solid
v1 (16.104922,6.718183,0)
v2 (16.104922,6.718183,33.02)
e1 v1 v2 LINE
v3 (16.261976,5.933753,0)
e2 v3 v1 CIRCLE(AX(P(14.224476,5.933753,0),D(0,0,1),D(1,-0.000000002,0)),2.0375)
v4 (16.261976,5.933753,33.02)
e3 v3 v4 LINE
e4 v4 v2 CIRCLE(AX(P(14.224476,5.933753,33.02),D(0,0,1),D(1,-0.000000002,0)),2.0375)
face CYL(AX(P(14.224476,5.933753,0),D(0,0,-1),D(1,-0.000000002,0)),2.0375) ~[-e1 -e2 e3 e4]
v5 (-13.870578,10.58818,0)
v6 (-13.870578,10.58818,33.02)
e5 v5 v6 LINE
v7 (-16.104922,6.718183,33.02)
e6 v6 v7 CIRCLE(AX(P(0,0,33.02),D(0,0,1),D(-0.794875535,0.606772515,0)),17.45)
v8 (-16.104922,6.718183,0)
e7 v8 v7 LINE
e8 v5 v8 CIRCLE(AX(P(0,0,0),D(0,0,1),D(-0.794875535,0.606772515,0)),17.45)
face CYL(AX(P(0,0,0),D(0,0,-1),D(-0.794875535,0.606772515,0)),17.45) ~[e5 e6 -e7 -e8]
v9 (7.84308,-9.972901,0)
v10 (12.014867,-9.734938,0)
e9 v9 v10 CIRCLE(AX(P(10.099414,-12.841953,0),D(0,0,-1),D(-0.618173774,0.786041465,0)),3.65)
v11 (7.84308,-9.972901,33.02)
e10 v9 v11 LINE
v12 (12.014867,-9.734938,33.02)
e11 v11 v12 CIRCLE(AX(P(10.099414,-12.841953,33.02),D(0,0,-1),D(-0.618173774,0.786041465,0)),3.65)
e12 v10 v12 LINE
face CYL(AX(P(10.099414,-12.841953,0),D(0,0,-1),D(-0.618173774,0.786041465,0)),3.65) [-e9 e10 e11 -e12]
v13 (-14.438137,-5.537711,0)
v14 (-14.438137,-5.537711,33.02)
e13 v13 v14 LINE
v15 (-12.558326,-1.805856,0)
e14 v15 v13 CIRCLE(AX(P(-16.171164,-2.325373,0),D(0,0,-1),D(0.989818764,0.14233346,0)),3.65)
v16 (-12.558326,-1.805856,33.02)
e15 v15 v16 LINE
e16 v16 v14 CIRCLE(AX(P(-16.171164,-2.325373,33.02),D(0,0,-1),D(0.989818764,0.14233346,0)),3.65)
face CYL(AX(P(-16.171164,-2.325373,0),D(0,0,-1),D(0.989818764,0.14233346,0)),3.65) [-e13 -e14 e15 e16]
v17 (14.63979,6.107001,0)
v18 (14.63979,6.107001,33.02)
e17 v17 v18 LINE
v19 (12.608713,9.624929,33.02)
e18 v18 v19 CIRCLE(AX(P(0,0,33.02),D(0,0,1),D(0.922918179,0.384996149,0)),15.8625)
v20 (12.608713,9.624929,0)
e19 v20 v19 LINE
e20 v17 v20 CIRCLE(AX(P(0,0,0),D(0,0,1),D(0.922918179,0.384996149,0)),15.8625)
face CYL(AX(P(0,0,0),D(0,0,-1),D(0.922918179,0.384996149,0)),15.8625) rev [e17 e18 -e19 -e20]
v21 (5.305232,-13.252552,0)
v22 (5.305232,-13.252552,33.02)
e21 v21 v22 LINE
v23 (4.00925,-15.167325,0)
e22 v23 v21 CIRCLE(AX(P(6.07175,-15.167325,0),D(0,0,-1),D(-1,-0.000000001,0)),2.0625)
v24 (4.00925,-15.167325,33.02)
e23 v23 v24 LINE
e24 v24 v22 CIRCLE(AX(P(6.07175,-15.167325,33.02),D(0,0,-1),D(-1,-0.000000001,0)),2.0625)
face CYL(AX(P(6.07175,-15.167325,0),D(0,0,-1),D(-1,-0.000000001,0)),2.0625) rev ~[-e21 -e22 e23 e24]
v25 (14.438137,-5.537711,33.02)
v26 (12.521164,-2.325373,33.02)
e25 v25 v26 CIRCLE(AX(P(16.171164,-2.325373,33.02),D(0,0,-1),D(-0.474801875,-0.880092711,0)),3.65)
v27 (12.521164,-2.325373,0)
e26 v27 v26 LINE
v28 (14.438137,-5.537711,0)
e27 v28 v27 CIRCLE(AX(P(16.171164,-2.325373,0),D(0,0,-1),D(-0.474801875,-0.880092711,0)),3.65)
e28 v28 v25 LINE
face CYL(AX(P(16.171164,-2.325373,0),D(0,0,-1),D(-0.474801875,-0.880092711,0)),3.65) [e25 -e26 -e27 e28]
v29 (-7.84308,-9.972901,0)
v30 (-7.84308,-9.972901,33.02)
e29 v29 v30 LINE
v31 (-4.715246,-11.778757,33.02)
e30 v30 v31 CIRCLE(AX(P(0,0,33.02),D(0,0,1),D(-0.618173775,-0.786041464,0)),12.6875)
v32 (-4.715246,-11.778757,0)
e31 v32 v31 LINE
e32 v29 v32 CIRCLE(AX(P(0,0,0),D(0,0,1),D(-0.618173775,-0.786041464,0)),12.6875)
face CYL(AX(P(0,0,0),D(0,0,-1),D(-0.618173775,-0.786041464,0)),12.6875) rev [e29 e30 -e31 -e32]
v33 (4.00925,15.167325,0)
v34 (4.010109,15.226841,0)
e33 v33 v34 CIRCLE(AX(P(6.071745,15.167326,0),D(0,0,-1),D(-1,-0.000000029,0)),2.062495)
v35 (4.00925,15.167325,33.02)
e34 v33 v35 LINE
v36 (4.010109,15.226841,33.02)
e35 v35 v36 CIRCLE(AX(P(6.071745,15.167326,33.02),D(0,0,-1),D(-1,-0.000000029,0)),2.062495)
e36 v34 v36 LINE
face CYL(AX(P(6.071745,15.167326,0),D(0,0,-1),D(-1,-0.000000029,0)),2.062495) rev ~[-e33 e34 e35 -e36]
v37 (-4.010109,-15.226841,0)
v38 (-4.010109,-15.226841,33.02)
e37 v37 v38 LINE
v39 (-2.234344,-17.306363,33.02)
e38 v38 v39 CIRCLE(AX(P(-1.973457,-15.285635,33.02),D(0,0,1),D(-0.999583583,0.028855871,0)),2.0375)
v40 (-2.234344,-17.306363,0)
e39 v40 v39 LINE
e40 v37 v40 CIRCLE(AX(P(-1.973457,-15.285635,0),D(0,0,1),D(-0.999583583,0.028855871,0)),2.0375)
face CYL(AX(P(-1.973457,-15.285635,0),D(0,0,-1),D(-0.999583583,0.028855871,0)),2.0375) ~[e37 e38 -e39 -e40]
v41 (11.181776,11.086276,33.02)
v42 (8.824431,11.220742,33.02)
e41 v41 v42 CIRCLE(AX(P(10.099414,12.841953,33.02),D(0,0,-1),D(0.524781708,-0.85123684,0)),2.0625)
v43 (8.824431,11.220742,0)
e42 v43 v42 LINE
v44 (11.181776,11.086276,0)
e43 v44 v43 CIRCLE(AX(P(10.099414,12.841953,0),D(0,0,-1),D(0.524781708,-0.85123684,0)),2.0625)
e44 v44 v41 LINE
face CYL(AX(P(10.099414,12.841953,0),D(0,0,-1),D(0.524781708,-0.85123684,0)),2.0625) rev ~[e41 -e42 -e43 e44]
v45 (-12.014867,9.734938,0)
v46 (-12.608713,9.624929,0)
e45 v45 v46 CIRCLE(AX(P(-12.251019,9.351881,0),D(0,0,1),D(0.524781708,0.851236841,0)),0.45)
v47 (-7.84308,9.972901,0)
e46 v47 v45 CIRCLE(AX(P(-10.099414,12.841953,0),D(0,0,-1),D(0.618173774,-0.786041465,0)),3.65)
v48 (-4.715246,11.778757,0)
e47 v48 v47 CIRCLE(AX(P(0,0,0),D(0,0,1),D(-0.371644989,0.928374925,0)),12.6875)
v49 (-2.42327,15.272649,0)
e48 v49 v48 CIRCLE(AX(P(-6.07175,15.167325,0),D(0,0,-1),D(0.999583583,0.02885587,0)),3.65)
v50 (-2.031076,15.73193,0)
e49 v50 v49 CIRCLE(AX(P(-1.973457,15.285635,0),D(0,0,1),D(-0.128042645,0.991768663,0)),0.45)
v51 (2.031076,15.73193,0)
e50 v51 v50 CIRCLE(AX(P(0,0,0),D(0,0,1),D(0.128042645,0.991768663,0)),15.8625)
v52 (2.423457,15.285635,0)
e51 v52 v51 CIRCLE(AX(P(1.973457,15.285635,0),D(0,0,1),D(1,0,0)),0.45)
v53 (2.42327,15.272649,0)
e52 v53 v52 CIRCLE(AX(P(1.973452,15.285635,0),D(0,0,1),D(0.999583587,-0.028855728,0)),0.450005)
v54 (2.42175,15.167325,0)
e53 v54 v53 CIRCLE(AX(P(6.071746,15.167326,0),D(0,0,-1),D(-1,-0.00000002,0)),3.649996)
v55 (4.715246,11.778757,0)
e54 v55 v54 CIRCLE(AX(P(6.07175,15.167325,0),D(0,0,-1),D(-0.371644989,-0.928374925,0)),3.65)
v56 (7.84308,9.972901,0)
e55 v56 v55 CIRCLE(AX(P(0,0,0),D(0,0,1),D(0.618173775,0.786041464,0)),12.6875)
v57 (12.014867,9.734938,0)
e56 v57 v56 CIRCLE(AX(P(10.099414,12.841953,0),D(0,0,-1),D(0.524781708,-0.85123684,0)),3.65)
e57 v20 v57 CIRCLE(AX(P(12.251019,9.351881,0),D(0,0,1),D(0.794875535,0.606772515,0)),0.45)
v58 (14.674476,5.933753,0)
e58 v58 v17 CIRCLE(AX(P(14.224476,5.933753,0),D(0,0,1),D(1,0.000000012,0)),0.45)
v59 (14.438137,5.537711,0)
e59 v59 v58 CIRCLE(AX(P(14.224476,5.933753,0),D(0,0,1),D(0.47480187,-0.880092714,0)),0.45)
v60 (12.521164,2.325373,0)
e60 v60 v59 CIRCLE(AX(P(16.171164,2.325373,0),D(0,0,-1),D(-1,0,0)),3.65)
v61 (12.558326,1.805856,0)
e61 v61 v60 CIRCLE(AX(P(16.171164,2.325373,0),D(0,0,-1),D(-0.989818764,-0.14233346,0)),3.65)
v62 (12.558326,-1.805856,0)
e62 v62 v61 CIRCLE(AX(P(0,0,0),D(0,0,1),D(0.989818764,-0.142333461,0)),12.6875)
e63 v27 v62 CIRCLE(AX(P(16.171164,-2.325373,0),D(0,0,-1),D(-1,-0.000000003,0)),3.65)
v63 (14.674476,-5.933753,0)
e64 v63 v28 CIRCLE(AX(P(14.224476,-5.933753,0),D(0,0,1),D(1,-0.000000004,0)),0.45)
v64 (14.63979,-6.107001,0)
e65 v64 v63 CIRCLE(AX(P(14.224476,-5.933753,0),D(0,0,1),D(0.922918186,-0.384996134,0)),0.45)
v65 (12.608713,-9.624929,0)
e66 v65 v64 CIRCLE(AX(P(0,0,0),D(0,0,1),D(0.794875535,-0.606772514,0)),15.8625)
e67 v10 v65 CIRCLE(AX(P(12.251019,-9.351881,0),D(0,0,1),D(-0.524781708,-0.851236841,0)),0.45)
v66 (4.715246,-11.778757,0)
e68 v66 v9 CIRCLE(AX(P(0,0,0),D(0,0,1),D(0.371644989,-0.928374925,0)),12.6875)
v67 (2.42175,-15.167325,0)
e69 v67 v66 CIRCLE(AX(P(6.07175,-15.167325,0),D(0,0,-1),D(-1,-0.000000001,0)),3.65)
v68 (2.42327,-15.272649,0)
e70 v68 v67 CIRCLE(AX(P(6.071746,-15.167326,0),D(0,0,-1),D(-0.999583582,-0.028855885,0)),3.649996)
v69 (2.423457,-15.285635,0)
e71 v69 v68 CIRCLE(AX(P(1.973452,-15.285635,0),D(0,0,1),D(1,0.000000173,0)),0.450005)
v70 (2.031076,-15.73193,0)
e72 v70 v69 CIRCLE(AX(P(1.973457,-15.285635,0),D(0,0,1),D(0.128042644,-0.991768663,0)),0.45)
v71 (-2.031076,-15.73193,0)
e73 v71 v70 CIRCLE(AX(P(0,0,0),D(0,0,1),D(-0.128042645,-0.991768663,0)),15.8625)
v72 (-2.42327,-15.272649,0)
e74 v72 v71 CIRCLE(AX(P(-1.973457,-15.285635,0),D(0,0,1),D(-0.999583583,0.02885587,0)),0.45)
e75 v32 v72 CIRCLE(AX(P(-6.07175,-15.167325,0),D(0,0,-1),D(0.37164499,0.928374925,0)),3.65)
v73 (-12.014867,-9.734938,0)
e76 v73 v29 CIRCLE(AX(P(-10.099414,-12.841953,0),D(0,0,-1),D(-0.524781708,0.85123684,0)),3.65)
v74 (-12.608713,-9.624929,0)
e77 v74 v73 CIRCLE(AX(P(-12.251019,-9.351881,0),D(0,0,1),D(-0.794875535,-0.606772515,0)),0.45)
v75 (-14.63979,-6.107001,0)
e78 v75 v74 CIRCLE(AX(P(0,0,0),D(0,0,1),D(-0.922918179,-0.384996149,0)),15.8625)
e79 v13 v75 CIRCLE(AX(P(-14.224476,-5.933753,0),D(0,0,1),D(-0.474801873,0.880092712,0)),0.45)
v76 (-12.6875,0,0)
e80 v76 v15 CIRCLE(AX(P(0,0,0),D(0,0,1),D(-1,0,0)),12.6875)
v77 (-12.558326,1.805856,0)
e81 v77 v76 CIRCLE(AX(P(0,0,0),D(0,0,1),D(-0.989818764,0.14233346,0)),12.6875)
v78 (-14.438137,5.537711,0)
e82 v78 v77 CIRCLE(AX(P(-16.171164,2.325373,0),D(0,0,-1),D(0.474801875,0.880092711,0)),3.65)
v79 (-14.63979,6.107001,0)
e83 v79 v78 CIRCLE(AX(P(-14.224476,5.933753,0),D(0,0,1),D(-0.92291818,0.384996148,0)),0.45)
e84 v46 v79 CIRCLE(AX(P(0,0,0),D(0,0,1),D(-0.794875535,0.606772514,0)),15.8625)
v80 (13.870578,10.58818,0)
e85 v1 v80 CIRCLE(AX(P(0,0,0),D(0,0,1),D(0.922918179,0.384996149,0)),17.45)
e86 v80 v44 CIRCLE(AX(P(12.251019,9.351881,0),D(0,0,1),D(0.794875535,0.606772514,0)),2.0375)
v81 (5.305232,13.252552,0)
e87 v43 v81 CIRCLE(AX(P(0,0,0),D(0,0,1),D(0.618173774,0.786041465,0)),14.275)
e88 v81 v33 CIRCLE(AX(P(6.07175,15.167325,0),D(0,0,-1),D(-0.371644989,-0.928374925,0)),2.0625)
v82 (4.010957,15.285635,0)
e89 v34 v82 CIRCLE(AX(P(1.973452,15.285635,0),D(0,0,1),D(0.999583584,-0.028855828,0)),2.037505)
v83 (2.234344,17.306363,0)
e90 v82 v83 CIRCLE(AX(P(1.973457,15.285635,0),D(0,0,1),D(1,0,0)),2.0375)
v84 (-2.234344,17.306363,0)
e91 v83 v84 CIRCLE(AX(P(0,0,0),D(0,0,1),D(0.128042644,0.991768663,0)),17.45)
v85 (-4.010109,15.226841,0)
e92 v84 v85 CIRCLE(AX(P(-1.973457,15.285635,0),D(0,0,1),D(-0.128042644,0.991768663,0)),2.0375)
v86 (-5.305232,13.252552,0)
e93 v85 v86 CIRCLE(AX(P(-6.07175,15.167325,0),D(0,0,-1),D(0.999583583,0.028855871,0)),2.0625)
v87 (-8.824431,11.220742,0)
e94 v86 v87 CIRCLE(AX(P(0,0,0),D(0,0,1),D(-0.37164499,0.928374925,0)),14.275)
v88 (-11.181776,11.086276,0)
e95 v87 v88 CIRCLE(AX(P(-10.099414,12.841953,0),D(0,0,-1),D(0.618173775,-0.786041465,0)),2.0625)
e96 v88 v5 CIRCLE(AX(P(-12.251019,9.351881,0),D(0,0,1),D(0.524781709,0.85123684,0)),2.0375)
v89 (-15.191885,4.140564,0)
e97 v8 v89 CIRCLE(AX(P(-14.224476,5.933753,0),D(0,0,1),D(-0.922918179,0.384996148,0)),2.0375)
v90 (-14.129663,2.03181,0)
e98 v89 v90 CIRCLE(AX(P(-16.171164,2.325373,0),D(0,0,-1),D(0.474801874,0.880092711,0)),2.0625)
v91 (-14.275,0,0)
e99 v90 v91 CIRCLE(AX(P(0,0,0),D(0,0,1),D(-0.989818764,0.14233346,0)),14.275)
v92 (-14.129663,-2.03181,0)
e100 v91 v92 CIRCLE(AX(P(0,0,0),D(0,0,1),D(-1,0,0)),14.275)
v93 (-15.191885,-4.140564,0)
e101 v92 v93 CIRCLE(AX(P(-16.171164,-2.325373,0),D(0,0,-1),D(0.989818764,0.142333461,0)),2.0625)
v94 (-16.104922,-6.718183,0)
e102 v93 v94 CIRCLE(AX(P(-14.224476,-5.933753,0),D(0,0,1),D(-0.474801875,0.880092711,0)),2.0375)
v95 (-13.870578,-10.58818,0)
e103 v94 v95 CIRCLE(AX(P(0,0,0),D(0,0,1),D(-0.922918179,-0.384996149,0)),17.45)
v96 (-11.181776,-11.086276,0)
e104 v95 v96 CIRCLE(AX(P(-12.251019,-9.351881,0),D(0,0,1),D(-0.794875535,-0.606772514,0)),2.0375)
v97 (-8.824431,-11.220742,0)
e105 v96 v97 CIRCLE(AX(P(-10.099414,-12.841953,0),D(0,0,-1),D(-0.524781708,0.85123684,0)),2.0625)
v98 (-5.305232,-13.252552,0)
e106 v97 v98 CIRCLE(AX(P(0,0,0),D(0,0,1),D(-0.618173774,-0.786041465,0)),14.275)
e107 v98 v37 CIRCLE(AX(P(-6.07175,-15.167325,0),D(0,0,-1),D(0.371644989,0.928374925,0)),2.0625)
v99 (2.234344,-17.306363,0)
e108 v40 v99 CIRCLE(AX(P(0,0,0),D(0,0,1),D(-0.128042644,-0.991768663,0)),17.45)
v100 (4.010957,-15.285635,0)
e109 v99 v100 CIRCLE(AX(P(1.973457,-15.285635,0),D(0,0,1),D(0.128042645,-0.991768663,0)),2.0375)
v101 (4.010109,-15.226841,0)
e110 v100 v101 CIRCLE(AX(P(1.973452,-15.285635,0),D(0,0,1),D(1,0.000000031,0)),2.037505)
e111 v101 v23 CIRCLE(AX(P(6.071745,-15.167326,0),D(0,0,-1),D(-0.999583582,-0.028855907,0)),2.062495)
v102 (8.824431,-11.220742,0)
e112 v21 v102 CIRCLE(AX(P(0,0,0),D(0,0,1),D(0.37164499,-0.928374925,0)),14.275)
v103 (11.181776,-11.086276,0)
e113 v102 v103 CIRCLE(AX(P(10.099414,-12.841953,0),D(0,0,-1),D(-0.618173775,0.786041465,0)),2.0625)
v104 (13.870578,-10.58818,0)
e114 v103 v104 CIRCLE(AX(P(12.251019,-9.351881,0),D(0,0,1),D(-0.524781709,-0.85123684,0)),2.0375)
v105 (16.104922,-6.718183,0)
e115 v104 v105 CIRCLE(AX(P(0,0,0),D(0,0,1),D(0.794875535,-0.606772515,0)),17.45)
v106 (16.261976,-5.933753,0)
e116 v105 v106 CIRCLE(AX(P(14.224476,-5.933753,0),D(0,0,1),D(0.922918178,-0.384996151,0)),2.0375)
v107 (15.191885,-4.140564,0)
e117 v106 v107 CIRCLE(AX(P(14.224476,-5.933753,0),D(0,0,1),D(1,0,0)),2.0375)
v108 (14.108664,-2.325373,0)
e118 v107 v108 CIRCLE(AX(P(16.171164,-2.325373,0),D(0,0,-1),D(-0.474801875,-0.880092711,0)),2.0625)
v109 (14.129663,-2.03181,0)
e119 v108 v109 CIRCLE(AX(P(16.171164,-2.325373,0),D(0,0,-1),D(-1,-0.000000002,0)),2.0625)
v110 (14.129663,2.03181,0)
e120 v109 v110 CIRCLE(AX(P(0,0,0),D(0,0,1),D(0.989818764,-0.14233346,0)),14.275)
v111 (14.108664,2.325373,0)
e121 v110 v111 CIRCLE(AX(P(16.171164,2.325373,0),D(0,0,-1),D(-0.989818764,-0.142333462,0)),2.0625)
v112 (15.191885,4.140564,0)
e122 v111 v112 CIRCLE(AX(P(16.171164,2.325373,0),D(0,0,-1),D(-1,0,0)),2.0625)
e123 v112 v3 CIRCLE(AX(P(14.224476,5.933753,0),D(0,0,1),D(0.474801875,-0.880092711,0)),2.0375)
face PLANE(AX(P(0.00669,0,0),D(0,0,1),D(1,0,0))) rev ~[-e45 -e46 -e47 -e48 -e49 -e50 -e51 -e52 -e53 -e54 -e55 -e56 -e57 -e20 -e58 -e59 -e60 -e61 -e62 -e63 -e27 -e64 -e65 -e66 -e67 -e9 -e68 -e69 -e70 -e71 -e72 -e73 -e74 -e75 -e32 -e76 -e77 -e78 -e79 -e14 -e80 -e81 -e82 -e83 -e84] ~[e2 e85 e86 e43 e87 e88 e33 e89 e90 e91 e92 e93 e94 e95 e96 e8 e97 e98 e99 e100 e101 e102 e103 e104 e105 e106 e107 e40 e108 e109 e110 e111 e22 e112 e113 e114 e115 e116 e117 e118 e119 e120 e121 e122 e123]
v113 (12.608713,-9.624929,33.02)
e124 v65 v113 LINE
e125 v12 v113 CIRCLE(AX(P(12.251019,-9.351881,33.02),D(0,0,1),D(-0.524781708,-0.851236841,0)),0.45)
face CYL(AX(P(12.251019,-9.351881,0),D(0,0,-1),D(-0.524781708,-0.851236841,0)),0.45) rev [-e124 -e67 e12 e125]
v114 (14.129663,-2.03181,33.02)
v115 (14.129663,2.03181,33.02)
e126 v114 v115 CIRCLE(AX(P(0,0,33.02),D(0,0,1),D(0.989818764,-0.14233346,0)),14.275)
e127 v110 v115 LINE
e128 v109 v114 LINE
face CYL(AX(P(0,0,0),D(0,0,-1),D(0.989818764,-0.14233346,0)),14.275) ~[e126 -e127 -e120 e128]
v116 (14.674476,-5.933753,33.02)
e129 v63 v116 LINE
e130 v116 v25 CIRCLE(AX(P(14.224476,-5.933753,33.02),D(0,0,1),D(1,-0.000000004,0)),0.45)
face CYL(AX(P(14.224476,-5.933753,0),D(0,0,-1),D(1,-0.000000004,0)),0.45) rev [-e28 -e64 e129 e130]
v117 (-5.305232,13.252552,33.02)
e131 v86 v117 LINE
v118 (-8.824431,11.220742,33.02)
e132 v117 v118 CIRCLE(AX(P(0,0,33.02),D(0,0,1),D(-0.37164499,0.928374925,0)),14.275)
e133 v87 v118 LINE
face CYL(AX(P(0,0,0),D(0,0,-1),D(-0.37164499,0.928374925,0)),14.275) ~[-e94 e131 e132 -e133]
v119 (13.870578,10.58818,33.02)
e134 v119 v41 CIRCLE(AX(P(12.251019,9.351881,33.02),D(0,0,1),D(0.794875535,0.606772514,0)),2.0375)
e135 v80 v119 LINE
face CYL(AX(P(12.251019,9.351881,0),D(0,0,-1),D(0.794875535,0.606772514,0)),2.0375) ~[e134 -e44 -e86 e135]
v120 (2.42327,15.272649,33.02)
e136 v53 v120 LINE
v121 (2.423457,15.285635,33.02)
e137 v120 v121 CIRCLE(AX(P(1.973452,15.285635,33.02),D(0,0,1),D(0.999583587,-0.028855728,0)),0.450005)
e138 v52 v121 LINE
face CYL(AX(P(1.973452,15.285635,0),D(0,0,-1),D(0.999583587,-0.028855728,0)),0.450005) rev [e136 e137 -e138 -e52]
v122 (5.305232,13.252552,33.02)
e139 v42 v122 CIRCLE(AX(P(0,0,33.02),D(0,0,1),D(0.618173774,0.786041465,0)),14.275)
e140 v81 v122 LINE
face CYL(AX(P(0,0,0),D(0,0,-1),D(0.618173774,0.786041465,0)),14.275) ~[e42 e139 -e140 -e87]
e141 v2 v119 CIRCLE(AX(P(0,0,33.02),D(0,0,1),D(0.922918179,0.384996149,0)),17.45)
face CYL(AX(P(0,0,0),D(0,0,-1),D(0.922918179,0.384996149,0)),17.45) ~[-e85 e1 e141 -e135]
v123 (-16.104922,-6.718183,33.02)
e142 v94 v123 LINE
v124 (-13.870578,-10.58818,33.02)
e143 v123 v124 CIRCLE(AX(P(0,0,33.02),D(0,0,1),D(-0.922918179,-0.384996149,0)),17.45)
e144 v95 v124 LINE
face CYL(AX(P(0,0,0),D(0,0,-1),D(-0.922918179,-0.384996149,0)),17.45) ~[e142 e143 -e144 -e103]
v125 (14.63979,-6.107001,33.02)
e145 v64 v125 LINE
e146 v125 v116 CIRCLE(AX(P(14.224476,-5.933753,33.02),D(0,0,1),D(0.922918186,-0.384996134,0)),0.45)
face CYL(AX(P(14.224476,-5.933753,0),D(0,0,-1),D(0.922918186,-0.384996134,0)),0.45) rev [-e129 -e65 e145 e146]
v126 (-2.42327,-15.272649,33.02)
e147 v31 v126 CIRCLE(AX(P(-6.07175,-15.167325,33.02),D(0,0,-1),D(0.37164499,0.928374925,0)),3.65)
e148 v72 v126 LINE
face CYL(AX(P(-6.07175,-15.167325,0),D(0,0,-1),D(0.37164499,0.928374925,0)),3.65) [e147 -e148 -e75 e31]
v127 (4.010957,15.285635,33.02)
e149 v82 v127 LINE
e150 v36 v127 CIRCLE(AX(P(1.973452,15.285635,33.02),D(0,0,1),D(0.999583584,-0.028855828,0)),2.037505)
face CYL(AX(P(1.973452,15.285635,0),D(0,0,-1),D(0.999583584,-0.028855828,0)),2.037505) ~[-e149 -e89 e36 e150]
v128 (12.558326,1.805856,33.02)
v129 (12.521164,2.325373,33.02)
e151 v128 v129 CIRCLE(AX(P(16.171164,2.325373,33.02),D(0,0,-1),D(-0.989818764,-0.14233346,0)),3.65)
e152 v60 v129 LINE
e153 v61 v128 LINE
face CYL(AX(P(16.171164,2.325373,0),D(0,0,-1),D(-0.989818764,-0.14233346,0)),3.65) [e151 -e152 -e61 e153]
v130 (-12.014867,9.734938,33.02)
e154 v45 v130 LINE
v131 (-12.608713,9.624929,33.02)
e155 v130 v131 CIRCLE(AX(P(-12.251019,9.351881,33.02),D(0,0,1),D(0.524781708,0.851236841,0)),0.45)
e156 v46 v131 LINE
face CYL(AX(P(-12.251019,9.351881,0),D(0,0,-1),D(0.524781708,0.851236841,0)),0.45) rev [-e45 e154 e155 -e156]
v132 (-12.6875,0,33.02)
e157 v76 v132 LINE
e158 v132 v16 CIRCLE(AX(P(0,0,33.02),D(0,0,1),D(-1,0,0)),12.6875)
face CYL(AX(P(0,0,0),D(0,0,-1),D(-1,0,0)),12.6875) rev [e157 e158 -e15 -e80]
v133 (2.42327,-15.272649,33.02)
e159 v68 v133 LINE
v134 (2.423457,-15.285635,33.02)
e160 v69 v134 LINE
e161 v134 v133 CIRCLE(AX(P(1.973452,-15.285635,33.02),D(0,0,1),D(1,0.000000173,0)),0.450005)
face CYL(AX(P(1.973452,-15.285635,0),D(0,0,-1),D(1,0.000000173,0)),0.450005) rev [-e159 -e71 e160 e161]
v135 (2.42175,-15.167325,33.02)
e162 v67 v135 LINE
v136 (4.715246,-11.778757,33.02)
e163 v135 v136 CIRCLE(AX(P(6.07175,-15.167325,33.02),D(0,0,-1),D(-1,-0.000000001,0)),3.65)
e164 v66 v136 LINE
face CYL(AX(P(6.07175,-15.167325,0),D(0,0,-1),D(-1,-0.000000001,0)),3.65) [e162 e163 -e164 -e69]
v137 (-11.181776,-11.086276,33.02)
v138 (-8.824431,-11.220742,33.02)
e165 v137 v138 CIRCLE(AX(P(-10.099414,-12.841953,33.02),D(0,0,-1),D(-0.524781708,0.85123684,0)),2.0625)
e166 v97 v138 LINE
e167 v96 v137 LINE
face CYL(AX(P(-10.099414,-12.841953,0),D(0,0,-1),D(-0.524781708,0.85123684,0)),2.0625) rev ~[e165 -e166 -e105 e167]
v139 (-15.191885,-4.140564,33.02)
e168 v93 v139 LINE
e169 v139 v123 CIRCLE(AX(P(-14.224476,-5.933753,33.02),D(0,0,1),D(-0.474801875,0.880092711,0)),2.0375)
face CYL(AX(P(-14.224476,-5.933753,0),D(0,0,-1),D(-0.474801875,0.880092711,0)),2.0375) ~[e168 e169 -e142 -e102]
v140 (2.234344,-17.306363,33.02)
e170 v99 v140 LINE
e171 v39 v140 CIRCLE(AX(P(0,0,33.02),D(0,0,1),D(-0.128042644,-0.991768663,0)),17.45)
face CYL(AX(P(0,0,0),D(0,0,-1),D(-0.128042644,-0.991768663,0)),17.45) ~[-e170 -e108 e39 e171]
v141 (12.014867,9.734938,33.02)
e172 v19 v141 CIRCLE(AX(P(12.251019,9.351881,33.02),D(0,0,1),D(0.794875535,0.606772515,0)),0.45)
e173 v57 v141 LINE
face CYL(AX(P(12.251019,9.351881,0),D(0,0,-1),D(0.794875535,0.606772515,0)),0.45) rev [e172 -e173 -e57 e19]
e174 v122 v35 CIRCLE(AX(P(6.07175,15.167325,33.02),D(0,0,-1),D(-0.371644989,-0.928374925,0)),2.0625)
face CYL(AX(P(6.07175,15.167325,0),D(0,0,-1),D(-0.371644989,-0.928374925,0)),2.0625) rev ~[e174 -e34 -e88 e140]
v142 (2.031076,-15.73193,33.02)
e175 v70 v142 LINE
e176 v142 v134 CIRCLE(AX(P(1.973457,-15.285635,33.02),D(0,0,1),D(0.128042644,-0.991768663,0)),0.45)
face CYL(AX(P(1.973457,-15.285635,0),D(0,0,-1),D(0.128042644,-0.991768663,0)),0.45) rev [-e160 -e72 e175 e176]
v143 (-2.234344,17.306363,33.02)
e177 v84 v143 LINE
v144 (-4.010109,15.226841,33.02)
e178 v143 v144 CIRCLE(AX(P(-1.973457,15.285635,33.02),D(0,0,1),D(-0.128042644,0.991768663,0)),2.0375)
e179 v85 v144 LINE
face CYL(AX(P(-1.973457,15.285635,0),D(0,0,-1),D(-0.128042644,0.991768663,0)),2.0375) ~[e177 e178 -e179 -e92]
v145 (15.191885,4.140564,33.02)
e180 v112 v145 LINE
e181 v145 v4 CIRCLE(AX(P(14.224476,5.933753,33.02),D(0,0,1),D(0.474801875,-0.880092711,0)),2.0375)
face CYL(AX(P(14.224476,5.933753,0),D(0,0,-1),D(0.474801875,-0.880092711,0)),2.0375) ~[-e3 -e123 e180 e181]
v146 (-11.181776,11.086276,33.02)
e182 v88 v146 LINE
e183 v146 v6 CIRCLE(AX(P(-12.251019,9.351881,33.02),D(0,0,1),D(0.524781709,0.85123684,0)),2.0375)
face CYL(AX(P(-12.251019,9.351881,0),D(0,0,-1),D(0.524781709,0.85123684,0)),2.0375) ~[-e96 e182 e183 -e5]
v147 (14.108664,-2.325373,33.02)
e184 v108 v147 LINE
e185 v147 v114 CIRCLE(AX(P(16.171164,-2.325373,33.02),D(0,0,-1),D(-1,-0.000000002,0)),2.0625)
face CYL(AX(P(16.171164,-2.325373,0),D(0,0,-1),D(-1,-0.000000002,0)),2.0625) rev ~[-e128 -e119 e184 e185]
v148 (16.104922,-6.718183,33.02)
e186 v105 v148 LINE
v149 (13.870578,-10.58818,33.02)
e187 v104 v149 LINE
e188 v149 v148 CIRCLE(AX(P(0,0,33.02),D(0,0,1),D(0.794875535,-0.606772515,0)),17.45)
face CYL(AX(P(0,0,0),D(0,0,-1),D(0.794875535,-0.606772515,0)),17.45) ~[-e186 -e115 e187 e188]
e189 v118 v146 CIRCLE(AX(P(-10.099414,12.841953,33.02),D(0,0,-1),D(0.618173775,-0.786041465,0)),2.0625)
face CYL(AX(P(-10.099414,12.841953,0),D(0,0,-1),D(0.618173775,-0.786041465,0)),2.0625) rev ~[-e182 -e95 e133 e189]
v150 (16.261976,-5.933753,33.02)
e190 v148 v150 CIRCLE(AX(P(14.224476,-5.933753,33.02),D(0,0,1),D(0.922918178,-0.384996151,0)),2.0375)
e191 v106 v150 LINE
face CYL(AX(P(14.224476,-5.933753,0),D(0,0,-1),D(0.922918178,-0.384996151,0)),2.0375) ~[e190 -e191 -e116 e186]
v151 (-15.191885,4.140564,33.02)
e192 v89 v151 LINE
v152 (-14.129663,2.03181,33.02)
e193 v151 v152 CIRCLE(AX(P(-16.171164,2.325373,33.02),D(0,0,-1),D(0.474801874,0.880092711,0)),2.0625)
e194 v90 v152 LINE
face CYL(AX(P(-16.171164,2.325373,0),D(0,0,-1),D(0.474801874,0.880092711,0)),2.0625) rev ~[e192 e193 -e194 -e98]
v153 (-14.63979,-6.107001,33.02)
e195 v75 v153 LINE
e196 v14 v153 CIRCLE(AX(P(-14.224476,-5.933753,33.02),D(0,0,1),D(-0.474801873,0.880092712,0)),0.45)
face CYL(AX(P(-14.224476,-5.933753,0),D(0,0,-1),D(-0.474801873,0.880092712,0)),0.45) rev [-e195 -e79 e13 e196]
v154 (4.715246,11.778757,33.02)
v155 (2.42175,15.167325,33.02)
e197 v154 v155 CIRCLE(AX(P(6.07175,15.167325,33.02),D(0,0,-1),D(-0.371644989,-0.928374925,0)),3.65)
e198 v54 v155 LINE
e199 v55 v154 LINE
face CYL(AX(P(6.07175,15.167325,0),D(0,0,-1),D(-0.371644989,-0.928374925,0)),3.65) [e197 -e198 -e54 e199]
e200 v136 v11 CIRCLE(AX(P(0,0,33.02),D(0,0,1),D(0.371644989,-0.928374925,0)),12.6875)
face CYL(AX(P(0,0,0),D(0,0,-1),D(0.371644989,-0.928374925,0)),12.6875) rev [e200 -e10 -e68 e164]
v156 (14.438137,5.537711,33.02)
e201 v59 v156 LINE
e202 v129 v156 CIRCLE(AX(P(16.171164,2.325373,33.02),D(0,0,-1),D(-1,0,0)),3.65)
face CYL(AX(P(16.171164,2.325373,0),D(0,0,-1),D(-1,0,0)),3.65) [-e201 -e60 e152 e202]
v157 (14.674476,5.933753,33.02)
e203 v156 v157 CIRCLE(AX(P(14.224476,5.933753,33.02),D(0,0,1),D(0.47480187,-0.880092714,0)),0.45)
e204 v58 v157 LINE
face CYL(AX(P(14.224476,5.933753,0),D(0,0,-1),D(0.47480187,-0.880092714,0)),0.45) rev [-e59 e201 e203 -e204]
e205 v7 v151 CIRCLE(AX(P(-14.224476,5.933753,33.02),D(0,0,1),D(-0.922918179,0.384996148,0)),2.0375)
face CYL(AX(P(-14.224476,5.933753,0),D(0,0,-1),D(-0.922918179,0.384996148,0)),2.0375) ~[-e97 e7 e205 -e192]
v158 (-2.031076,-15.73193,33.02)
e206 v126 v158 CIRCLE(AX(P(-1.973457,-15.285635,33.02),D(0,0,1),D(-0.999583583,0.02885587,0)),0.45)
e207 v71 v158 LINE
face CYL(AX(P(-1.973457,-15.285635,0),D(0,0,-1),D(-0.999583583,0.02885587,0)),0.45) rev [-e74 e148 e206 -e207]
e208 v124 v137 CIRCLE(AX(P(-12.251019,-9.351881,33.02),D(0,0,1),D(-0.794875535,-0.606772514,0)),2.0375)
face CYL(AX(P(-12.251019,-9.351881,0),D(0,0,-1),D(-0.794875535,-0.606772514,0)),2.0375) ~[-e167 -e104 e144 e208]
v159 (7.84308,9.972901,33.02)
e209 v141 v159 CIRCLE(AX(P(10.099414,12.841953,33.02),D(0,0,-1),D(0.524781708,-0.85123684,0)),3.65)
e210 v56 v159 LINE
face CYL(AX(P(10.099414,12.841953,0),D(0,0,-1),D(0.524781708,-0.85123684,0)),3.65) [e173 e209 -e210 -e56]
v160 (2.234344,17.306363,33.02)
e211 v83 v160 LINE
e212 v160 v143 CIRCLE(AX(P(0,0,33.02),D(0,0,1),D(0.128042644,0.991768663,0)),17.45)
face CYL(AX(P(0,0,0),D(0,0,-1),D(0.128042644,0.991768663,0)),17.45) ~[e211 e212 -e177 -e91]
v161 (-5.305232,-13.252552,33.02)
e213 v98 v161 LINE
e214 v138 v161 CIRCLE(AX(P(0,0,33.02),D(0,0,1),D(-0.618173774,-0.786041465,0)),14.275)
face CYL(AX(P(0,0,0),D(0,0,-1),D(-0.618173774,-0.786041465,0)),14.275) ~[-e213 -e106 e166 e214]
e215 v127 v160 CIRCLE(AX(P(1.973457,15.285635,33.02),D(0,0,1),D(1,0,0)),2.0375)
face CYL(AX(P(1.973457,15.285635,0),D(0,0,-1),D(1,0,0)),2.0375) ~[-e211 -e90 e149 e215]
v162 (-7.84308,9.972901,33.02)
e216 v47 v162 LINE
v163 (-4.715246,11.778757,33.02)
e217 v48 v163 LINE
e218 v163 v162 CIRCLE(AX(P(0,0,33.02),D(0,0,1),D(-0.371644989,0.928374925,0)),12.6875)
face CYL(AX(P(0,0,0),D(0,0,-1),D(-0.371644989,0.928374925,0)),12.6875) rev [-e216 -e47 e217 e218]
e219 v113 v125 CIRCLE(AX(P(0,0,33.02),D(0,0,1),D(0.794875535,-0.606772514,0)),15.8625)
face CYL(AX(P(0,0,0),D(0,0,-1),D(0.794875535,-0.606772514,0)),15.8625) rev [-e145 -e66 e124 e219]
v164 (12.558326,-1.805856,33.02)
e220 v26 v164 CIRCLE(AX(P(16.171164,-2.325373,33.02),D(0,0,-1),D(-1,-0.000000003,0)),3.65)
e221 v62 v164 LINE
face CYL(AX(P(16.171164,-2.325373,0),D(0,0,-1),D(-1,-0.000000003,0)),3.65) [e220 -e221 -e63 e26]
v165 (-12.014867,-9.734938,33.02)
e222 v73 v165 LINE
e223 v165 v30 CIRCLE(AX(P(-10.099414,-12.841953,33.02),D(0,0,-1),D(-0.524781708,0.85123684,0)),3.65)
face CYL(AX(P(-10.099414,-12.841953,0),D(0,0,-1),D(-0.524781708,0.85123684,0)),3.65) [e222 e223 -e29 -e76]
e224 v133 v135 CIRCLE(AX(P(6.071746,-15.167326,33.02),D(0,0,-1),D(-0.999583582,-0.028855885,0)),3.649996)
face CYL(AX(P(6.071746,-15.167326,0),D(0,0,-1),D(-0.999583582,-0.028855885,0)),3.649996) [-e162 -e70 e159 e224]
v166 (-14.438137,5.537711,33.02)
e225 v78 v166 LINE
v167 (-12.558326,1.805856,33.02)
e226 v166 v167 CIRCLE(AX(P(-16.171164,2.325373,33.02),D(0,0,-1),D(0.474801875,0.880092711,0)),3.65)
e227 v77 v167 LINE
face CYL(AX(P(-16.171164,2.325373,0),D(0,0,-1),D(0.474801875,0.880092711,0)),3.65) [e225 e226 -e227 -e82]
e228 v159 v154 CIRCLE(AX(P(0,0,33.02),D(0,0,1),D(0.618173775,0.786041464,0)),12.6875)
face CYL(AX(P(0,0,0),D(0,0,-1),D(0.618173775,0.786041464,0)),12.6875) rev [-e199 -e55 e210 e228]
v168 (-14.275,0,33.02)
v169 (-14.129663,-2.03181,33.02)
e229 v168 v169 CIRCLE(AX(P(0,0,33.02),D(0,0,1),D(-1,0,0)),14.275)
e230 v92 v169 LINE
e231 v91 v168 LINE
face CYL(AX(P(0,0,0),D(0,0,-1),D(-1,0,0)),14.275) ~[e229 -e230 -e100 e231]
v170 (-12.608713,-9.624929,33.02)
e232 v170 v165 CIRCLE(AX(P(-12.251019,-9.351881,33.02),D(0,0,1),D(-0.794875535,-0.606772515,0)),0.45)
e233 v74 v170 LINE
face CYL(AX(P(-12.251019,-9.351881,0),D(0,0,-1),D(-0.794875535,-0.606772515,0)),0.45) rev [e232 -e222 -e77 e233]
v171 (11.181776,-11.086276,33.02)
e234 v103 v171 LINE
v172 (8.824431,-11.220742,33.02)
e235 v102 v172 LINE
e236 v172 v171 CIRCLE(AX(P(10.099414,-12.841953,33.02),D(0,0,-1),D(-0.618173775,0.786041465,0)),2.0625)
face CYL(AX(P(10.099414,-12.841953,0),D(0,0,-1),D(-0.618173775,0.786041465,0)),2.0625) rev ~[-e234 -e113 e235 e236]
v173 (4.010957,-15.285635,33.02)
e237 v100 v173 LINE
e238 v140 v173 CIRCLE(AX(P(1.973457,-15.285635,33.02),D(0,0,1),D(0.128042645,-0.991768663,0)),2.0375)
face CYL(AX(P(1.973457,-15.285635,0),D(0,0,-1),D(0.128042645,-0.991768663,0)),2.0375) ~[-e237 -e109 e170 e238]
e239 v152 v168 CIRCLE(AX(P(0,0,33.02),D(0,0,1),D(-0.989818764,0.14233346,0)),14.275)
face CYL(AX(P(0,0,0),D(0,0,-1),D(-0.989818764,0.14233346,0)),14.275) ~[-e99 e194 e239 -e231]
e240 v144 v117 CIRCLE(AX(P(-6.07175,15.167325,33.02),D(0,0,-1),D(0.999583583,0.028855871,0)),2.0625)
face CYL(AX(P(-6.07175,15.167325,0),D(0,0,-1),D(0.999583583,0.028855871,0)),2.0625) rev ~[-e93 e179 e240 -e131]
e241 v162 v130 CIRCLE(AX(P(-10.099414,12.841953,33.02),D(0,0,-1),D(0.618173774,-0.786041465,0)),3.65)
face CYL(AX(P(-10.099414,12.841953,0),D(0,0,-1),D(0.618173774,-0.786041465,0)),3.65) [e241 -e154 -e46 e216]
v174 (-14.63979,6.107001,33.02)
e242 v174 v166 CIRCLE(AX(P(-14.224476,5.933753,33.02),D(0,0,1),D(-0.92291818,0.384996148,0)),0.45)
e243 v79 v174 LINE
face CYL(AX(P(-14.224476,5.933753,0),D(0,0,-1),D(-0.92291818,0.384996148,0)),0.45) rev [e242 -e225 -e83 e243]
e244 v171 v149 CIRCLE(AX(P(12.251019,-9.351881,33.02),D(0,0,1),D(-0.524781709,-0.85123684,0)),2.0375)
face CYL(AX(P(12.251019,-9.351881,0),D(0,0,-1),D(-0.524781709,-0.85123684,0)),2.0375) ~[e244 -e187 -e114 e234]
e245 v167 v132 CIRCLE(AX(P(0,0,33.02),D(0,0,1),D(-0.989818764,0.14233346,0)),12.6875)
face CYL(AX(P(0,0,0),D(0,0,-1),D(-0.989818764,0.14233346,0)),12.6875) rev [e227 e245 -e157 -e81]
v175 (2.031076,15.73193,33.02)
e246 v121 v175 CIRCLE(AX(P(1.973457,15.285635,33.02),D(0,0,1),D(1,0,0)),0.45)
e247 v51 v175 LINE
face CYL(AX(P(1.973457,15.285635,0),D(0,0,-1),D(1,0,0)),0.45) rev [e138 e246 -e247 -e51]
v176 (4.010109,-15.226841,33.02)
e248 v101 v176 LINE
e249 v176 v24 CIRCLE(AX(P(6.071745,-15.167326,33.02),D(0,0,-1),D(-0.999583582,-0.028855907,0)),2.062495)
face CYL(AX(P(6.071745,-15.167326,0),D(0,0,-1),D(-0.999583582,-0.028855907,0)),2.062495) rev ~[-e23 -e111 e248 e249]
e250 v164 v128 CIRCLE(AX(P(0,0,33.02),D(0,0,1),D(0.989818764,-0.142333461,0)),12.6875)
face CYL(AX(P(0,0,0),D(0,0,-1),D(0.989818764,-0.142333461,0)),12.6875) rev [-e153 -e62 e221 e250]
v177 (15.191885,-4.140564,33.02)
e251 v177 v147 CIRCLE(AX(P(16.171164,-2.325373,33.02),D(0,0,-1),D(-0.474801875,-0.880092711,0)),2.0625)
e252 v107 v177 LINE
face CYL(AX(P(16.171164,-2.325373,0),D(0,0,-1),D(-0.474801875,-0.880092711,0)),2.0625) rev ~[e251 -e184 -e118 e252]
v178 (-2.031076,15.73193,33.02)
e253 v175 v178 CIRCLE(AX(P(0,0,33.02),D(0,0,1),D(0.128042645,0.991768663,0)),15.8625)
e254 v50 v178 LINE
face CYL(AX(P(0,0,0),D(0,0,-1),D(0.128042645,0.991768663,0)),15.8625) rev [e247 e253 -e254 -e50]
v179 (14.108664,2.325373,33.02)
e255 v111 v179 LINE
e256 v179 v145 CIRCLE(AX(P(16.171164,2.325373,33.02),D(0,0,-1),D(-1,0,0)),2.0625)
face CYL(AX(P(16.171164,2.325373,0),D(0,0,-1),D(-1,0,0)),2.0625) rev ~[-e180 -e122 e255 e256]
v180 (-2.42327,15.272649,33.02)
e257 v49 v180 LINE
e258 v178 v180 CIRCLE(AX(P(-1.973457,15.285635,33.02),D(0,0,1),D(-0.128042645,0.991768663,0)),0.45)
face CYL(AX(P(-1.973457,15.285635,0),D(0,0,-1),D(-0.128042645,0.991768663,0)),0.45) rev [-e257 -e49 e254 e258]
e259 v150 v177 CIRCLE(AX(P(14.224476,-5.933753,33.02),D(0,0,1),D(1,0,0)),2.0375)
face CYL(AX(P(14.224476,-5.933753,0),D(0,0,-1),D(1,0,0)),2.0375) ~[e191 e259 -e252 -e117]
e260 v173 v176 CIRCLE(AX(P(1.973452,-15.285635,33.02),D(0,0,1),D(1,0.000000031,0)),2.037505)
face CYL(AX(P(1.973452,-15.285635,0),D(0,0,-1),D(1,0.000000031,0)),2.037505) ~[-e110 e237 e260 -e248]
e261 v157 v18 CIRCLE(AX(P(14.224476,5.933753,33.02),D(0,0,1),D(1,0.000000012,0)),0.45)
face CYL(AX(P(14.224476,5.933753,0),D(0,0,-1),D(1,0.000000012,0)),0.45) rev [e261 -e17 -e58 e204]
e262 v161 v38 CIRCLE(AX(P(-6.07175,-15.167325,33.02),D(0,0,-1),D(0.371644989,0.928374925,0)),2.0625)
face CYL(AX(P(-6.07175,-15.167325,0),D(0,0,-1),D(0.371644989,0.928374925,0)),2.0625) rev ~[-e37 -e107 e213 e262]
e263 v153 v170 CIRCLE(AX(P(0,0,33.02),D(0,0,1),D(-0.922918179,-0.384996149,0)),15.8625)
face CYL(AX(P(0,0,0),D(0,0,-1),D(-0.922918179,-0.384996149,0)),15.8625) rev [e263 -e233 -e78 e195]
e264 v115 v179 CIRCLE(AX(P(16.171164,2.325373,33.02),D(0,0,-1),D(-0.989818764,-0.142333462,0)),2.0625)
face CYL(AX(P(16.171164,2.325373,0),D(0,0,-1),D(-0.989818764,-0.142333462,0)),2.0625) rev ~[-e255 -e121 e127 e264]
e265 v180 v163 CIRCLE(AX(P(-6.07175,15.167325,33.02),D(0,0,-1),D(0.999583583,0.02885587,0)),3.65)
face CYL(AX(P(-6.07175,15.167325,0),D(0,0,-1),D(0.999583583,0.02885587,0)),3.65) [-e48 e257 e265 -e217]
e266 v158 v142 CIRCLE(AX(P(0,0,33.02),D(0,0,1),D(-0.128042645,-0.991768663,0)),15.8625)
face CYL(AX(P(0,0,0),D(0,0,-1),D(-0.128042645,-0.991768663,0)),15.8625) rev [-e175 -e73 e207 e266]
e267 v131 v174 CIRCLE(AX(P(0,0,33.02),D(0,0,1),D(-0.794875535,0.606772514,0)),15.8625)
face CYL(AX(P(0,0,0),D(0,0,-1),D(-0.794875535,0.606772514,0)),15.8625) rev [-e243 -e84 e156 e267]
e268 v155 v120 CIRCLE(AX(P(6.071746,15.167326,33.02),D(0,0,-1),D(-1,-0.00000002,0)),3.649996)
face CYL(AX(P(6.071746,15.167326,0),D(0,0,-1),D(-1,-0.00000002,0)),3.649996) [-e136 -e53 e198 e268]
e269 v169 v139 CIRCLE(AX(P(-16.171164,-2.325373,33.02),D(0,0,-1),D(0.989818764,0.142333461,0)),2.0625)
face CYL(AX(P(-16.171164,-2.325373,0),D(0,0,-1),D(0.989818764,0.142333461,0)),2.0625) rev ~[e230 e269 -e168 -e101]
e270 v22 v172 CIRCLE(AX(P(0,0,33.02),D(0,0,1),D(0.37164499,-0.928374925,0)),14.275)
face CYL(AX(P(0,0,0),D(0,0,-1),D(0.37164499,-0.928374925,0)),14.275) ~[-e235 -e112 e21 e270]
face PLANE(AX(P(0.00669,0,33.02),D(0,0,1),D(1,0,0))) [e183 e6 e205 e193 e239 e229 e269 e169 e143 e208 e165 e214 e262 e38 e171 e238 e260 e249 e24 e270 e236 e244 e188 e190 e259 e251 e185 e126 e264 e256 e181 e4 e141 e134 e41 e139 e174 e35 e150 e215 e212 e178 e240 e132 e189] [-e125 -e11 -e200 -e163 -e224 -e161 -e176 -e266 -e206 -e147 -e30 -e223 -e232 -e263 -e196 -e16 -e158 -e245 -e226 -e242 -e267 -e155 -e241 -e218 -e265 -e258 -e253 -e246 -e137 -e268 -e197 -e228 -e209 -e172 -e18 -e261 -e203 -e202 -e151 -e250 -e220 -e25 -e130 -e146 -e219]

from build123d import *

# Parameters (mm, degrees)
BOSS_EXTRUDE1_DEPTH = 33.02


with BuildPart() as part:
    # Sketch1 → Boss-Extrude1 (new body)
    with BuildSketch(Plane.XY):
        with BuildLine():
            ThreePointArc((-5.305232227, 13.252552057), (-7.1375, 12.362512639), (-8.824430633, 11.22074191))
            ThreePointArc((-8.824430633, 11.22074191), (-9.981957879, 10.782799599), (-11.181776449, 11.08627644))
            ThreePointArc((-11.181776449, 11.08627644), (-12.622148396, 11.355295802), (-13.870578082, 10.588180375))
            ThreePointArc((-13.870578082, 10.588180375), (-15.112143296, 8.725), (-16.104922226, 6.718182797))
            ThreePointArc((-16.104922226, 6.718182797), (-16.145048829, 5.25345326), (-15.191885255, 4.140564245))
            ThreePointArc((-15.191885255, 4.140564245), (-14.329157316, 3.253229304), (-14.12966286, 2.031810147))
            ThreePointArc((-14.12966286, 2.031810147), (-14.238619356, 1.01850078), (-14.275, 0))
            ThreePointArc((-14.275, 0), (-14.238619356, -1.01850078), (-14.12966286, -2.031810147))
            ThreePointArc((-14.12966286, -2.031810147), (-14.329157316, -3.253229304), (-15.191885255, -4.140564245))
            ThreePointArc((-15.191885255, -4.140564245), (-16.145048829, -5.25345326), (-16.104922226, -6.718182797))
            ThreePointArc((-16.104922226, -6.718182797), (-15.112143296, -8.725), (-13.870578082, -10.588180375))
            ThreePointArc((-13.870578082, -10.588180375), (-12.622148396, -11.355295802), (-11.181776449, -11.08627644))
            ThreePointArc((-11.181776449, -11.08627644), (-9.981957879, -10.782799599), (-8.824430633, -11.22074191))
            ThreePointArc((-8.824430633, -11.22074191), (-7.1375, -12.362512639), (-5.305232227, -13.252552057))
            ThreePointArc((-5.305232227, -13.252552057), (-4.347199437, -14.036028902), (-4.010108806, -15.226840684))
            ThreePointArc((-4.010108806, -15.226840684), (-3.522900434, -16.608749062), (-2.234344144, -17.306363172))
            ThreePointArc((-2.234344144, -17.306363172), (0, -17.45), (2.234344144, -17.306363172))
            ThreePointArc((2.234344144, -17.306363172), (3.503647323, -16.630968906), (4.010957256, -15.285634521))
            ThreePointArc((4.010957256, -15.285634521), (4.010745132, -15.256234542), (4.010108806, -15.226840684))
            ThreePointArc((4.010108806, -15.226840684), (4.009464671, -15.197086165), (4.009249945, -15.167325448))
            ThreePointArc((4.009249945, -15.167325448), (4.363702952, -14.011262386), (5.305232227, -13.252552057))
            ThreePointArc((5.305232227, -13.252552057), (7.1375, -12.362512639), (8.824430633, -11.22074191))
            ThreePointArc((8.824430633, -11.22074191), (9.981957879, -10.782799599), (11.181776449, -11.08627644))
            ThreePointArc((11.181776449, -11.08627644), (12.622148396, -11.355295802), (13.870578082, -10.588180375))
            ThreePointArc((13.870578082, -10.588180375), (15.112143296, -8.725), (16.104922226, -6.718182797))
            ThreePointArc((16.104922226, -6.718182797), (16.2223271, -6.333751864), (16.261976436, -5.933753144))
            ThreePointArc((16.261976436, -5.933753144), (15.974119502, -4.889648077), (15.191885255, -4.140564245))
            ThreePointArc((15.191885255, -4.140564245), (14.400052997, -3.382289157), (14.10866406, -2.325372926))
            ThreePointArc((14.10866406, -2.325372926), (14.113920458, -2.1782165), (14.12966286, -2.031810147))
            ThreePointArc((14.12966286, -2.031810147), (14.275, 0), (14.12966286, 2.031810147))
            ThreePointArc((14.12966286, 2.031810147), (14.113920458, 2.1782165), (14.10866406, 2.325372926))
            ThreePointArc((14.10866406, 2.325372926), (14.400052997, 3.382289157), (15.191885255, 4.140564245))
            ThreePointArc((15.191885255, 4.140564245), (15.974119502, 4.889648077), (16.261976436, 5.933753144))
            ThreePointArc((16.261976436, 5.933753144), (16.2223271, 6.333751864), (16.104922226, 6.718182797))
            ThreePointArc((16.104922226, 6.718182797), (15.112143296, 8.725), (13.870578082, 10.588180375))
            ThreePointArc((13.870578082, 10.588180375), (12.622148396, 11.355295802), (11.181776449, 11.08627644))
            ThreePointArc((11.181776449, 11.08627644), (9.981957879, 10.782799599), (8.824430633, 11.22074191))
            ThreePointArc((8.824430633, 11.22074191), (7.1375, 12.362512639), (5.305232227, 13.252552057))
            ThreePointArc((5.305232227, 13.252552057), (4.363702952, 14.011262386), (4.009249945, 15.167325448))
            ThreePointArc((4.009249945, 15.167325448), (4.009464671, 15.197086165), (4.010108806, 15.226840684))
            ThreePointArc((4.010108806, 15.226840684), (4.010745132, 15.256234542), (4.010957256, 15.285634521))
            ThreePointArc((4.010957256, 15.285634521), (3.503647323, 16.630968906), (2.234344144, 17.306363172))
            ThreePointArc((2.234344144, 17.306363172), (0, 17.45), (-2.234344144, 17.306363172))
            ThreePointArc((-2.234344144, 17.306363172), (-3.522900434, 16.608749062), (-4.010108806, 15.226840684))
            ThreePointArc((-4.010108806, 15.226840684), (-4.347199437, 14.036028902), (-5.305232227, 13.252552057))
        make_face()
        with BuildLine():
            ThreePointArc((-4.715245806, 11.778756863), (-6.34375, 10.987697311), (-7.843079766, 9.972901084))
            ThreePointArc((-7.843079766, 9.972901084), (-9.891552176, 9.197875923), (-12.014867411, 9.734937956))
            ThreePointArc((-12.014867411, 9.734937956), (-12.332986369, 9.794353275), (-12.608713171, 9.624929009))
            ThreePointArc((-12.608713171, 9.624929009), (-13.737327968, 7.93125), (-14.639789617, 6.107001411))
            ThreePointArc((-14.639789617, 6.107001411), (-14.648651934, 5.783502863), (-14.438137279, 5.537711424))
            ThreePointArc((-14.438137279, 5.537711424), (-12.911370298, 3.967397506), (-12.558325571, 1.805855779))
            ThreePointArc((-12.558325571, 1.805855779), (-12.655165189, 0.905234932), (-12.6875, 0))
            ThreePointArc((-12.6875, 0), (-12.655165189, -0.905234932), (-12.558325571, -1.805855779))
            ThreePointArc((-12.558325571, -1.805855779), (-12.911370298, -3.967397506), (-14.438137279, -5.537711424))
            ThreePointArc((-14.438137279, -5.537711424), (-14.648651934, -5.783502863), (-14.639789617, -6.107001411))
            ThreePointArc((-14.639789617, -6.107001411), (-13.737327968, -7.93125), (-12.608713171, -9.624929009))
            ThreePointArc((-12.608713171, -9.624929009), (-12.332986369, -9.794353275), (-12.014867411, -9.734937956))
            ThreePointArc((-12.014867411, -9.734937956), (-9.891552176, -9.197875923), (-7.843079766, -9.972901084))
            ThreePointArc((-7.843079766, -9.972901084), (-6.34375, -10.987697311), (-4.715245806, -11.778756863))
            ThreePointArc((-4.715245806, -11.778756863), (-3.019818122, -13.165273429), (-2.423269868, -15.272649379))
            ThreePointArc((-2.423269868, -15.272649379), (-2.315665565, -15.577856137), (-2.031076446, -15.731930419))
            ThreePointArc((-2.031076446, -15.731930419), (0, -15.8625), (2.031076446, -15.731930419))
            ThreePointArc((2.031076446, -15.731930419), (2.311413344, -15.582763588), (2.423457256, -15.285634521))
            ThreePointArc((2.423457256, -15.285634521), (2.423410406, -15.279141274), (2.423269868, -15.272649379))
            ThreePointArc((2.423269868, -15.272649379), (2.422129945, -15.219992897), (2.421749945, -15.167325448))
            ThreePointArc((2.421749945, -15.167325448), (3.049024342, -13.1214442), (4.715245806, -11.778756863))
            ThreePointArc((4.715245806, -11.778756863), (6.34375, -10.987697311), (7.843079766, -9.972901084))
            ThreePointArc((7.843079766, -9.972901084), (9.891552176, -9.197875923), (12.014867411, -9.734937956))
            ThreePointArc((12.014867411, -9.734937956), (12.332986369, -9.794353275), (12.608713171, -9.624929009))
            ThreePointArc((12.608713171, -9.624929009), (13.737327968, -7.93125), (14.639789617, -6.107001411))
            ThreePointArc((14.639789617, -6.107001411), (14.665719527, -6.022096419), (14.674476436, -5.933753144))
            ThreePointArc((14.674476436, -5.933753144), (14.610900672, -5.703153252), (14.438137279, -5.537711424))
            ThreePointArc((14.438137279, -5.537711424), (13.036834166, -4.195794332), (12.52116406, -2.325372926))
            ThreePointArc((12.52116406, -2.325372926), (12.530466291, -2.064950652), (12.558325571, -1.805855779))
            ThreePointArc((12.558325571, -1.805855779), (12.6875, 0), (12.558325571, 1.805855779))
            ThreePointArc((12.558325571, 1.805855779), (12.530466291, 2.064950652), (12.52116406, 2.325372926))
            ThreePointArc((12.52116406, 2.325372926), (13.036834166, 4.195794332), (14.438137279, 5.537711424))
            ThreePointArc((14.438137279, 5.537711424), (14.610900672, 5.703153252), (14.674476436, 5.933753144))
            ThreePointArc((14.674476436, 5.933753144), (14.665719527, 6.022096419), (14.639789617, 6.107001411))
            ThreePointArc((14.639789617, 6.107001411), (13.737327968, 7.93125), (12.608713171, 9.624929009))
            ThreePointArc((12.608713171, 9.624929009), (12.332986369, 9.794353275), (12.014867411, 9.734937956))
            ThreePointArc((12.014867411, 9.734937956), (9.891552176, 9.197875923), (7.843079766, 9.972901084))
            ThreePointArc((7.843079766, 9.972901084), (6.34375, 10.987697311), (4.715245806, 11.778756863))
            ThreePointArc((4.715245806, 11.778756863), (3.049024342, 13.1214442), (2.421749945, 15.167325448))
            ThreePointArc((2.421749945, 15.167325448), (2.422129945, 15.219992897), (2.423269868, 15.272649379))
            ThreePointArc((2.423269868, 15.272649379), (2.423410406, 15.279141274), (2.423457256, 15.285634521))
            ThreePointArc((2.423457256, 15.285634521), (2.311413344, 15.582763588), (2.031076446, 15.731930419))
            ThreePointArc((2.031076446, 15.731930419), (0, 15.8625), (-2.031076446, 15.731930419))
            ThreePointArc((-2.031076446, 15.731930419), (-2.315665565, 15.577856137), (-2.423269868, 15.272649379))
            ThreePointArc((-2.423269868, 15.272649379), (-3.019818122, 13.165273429), (-4.715245806, 11.778756863))
        make_face(mode=Mode.SUBTRACT)
    extrude(amount=BOSS_EXTRUDE1_DEPTH)


solid = part.part
